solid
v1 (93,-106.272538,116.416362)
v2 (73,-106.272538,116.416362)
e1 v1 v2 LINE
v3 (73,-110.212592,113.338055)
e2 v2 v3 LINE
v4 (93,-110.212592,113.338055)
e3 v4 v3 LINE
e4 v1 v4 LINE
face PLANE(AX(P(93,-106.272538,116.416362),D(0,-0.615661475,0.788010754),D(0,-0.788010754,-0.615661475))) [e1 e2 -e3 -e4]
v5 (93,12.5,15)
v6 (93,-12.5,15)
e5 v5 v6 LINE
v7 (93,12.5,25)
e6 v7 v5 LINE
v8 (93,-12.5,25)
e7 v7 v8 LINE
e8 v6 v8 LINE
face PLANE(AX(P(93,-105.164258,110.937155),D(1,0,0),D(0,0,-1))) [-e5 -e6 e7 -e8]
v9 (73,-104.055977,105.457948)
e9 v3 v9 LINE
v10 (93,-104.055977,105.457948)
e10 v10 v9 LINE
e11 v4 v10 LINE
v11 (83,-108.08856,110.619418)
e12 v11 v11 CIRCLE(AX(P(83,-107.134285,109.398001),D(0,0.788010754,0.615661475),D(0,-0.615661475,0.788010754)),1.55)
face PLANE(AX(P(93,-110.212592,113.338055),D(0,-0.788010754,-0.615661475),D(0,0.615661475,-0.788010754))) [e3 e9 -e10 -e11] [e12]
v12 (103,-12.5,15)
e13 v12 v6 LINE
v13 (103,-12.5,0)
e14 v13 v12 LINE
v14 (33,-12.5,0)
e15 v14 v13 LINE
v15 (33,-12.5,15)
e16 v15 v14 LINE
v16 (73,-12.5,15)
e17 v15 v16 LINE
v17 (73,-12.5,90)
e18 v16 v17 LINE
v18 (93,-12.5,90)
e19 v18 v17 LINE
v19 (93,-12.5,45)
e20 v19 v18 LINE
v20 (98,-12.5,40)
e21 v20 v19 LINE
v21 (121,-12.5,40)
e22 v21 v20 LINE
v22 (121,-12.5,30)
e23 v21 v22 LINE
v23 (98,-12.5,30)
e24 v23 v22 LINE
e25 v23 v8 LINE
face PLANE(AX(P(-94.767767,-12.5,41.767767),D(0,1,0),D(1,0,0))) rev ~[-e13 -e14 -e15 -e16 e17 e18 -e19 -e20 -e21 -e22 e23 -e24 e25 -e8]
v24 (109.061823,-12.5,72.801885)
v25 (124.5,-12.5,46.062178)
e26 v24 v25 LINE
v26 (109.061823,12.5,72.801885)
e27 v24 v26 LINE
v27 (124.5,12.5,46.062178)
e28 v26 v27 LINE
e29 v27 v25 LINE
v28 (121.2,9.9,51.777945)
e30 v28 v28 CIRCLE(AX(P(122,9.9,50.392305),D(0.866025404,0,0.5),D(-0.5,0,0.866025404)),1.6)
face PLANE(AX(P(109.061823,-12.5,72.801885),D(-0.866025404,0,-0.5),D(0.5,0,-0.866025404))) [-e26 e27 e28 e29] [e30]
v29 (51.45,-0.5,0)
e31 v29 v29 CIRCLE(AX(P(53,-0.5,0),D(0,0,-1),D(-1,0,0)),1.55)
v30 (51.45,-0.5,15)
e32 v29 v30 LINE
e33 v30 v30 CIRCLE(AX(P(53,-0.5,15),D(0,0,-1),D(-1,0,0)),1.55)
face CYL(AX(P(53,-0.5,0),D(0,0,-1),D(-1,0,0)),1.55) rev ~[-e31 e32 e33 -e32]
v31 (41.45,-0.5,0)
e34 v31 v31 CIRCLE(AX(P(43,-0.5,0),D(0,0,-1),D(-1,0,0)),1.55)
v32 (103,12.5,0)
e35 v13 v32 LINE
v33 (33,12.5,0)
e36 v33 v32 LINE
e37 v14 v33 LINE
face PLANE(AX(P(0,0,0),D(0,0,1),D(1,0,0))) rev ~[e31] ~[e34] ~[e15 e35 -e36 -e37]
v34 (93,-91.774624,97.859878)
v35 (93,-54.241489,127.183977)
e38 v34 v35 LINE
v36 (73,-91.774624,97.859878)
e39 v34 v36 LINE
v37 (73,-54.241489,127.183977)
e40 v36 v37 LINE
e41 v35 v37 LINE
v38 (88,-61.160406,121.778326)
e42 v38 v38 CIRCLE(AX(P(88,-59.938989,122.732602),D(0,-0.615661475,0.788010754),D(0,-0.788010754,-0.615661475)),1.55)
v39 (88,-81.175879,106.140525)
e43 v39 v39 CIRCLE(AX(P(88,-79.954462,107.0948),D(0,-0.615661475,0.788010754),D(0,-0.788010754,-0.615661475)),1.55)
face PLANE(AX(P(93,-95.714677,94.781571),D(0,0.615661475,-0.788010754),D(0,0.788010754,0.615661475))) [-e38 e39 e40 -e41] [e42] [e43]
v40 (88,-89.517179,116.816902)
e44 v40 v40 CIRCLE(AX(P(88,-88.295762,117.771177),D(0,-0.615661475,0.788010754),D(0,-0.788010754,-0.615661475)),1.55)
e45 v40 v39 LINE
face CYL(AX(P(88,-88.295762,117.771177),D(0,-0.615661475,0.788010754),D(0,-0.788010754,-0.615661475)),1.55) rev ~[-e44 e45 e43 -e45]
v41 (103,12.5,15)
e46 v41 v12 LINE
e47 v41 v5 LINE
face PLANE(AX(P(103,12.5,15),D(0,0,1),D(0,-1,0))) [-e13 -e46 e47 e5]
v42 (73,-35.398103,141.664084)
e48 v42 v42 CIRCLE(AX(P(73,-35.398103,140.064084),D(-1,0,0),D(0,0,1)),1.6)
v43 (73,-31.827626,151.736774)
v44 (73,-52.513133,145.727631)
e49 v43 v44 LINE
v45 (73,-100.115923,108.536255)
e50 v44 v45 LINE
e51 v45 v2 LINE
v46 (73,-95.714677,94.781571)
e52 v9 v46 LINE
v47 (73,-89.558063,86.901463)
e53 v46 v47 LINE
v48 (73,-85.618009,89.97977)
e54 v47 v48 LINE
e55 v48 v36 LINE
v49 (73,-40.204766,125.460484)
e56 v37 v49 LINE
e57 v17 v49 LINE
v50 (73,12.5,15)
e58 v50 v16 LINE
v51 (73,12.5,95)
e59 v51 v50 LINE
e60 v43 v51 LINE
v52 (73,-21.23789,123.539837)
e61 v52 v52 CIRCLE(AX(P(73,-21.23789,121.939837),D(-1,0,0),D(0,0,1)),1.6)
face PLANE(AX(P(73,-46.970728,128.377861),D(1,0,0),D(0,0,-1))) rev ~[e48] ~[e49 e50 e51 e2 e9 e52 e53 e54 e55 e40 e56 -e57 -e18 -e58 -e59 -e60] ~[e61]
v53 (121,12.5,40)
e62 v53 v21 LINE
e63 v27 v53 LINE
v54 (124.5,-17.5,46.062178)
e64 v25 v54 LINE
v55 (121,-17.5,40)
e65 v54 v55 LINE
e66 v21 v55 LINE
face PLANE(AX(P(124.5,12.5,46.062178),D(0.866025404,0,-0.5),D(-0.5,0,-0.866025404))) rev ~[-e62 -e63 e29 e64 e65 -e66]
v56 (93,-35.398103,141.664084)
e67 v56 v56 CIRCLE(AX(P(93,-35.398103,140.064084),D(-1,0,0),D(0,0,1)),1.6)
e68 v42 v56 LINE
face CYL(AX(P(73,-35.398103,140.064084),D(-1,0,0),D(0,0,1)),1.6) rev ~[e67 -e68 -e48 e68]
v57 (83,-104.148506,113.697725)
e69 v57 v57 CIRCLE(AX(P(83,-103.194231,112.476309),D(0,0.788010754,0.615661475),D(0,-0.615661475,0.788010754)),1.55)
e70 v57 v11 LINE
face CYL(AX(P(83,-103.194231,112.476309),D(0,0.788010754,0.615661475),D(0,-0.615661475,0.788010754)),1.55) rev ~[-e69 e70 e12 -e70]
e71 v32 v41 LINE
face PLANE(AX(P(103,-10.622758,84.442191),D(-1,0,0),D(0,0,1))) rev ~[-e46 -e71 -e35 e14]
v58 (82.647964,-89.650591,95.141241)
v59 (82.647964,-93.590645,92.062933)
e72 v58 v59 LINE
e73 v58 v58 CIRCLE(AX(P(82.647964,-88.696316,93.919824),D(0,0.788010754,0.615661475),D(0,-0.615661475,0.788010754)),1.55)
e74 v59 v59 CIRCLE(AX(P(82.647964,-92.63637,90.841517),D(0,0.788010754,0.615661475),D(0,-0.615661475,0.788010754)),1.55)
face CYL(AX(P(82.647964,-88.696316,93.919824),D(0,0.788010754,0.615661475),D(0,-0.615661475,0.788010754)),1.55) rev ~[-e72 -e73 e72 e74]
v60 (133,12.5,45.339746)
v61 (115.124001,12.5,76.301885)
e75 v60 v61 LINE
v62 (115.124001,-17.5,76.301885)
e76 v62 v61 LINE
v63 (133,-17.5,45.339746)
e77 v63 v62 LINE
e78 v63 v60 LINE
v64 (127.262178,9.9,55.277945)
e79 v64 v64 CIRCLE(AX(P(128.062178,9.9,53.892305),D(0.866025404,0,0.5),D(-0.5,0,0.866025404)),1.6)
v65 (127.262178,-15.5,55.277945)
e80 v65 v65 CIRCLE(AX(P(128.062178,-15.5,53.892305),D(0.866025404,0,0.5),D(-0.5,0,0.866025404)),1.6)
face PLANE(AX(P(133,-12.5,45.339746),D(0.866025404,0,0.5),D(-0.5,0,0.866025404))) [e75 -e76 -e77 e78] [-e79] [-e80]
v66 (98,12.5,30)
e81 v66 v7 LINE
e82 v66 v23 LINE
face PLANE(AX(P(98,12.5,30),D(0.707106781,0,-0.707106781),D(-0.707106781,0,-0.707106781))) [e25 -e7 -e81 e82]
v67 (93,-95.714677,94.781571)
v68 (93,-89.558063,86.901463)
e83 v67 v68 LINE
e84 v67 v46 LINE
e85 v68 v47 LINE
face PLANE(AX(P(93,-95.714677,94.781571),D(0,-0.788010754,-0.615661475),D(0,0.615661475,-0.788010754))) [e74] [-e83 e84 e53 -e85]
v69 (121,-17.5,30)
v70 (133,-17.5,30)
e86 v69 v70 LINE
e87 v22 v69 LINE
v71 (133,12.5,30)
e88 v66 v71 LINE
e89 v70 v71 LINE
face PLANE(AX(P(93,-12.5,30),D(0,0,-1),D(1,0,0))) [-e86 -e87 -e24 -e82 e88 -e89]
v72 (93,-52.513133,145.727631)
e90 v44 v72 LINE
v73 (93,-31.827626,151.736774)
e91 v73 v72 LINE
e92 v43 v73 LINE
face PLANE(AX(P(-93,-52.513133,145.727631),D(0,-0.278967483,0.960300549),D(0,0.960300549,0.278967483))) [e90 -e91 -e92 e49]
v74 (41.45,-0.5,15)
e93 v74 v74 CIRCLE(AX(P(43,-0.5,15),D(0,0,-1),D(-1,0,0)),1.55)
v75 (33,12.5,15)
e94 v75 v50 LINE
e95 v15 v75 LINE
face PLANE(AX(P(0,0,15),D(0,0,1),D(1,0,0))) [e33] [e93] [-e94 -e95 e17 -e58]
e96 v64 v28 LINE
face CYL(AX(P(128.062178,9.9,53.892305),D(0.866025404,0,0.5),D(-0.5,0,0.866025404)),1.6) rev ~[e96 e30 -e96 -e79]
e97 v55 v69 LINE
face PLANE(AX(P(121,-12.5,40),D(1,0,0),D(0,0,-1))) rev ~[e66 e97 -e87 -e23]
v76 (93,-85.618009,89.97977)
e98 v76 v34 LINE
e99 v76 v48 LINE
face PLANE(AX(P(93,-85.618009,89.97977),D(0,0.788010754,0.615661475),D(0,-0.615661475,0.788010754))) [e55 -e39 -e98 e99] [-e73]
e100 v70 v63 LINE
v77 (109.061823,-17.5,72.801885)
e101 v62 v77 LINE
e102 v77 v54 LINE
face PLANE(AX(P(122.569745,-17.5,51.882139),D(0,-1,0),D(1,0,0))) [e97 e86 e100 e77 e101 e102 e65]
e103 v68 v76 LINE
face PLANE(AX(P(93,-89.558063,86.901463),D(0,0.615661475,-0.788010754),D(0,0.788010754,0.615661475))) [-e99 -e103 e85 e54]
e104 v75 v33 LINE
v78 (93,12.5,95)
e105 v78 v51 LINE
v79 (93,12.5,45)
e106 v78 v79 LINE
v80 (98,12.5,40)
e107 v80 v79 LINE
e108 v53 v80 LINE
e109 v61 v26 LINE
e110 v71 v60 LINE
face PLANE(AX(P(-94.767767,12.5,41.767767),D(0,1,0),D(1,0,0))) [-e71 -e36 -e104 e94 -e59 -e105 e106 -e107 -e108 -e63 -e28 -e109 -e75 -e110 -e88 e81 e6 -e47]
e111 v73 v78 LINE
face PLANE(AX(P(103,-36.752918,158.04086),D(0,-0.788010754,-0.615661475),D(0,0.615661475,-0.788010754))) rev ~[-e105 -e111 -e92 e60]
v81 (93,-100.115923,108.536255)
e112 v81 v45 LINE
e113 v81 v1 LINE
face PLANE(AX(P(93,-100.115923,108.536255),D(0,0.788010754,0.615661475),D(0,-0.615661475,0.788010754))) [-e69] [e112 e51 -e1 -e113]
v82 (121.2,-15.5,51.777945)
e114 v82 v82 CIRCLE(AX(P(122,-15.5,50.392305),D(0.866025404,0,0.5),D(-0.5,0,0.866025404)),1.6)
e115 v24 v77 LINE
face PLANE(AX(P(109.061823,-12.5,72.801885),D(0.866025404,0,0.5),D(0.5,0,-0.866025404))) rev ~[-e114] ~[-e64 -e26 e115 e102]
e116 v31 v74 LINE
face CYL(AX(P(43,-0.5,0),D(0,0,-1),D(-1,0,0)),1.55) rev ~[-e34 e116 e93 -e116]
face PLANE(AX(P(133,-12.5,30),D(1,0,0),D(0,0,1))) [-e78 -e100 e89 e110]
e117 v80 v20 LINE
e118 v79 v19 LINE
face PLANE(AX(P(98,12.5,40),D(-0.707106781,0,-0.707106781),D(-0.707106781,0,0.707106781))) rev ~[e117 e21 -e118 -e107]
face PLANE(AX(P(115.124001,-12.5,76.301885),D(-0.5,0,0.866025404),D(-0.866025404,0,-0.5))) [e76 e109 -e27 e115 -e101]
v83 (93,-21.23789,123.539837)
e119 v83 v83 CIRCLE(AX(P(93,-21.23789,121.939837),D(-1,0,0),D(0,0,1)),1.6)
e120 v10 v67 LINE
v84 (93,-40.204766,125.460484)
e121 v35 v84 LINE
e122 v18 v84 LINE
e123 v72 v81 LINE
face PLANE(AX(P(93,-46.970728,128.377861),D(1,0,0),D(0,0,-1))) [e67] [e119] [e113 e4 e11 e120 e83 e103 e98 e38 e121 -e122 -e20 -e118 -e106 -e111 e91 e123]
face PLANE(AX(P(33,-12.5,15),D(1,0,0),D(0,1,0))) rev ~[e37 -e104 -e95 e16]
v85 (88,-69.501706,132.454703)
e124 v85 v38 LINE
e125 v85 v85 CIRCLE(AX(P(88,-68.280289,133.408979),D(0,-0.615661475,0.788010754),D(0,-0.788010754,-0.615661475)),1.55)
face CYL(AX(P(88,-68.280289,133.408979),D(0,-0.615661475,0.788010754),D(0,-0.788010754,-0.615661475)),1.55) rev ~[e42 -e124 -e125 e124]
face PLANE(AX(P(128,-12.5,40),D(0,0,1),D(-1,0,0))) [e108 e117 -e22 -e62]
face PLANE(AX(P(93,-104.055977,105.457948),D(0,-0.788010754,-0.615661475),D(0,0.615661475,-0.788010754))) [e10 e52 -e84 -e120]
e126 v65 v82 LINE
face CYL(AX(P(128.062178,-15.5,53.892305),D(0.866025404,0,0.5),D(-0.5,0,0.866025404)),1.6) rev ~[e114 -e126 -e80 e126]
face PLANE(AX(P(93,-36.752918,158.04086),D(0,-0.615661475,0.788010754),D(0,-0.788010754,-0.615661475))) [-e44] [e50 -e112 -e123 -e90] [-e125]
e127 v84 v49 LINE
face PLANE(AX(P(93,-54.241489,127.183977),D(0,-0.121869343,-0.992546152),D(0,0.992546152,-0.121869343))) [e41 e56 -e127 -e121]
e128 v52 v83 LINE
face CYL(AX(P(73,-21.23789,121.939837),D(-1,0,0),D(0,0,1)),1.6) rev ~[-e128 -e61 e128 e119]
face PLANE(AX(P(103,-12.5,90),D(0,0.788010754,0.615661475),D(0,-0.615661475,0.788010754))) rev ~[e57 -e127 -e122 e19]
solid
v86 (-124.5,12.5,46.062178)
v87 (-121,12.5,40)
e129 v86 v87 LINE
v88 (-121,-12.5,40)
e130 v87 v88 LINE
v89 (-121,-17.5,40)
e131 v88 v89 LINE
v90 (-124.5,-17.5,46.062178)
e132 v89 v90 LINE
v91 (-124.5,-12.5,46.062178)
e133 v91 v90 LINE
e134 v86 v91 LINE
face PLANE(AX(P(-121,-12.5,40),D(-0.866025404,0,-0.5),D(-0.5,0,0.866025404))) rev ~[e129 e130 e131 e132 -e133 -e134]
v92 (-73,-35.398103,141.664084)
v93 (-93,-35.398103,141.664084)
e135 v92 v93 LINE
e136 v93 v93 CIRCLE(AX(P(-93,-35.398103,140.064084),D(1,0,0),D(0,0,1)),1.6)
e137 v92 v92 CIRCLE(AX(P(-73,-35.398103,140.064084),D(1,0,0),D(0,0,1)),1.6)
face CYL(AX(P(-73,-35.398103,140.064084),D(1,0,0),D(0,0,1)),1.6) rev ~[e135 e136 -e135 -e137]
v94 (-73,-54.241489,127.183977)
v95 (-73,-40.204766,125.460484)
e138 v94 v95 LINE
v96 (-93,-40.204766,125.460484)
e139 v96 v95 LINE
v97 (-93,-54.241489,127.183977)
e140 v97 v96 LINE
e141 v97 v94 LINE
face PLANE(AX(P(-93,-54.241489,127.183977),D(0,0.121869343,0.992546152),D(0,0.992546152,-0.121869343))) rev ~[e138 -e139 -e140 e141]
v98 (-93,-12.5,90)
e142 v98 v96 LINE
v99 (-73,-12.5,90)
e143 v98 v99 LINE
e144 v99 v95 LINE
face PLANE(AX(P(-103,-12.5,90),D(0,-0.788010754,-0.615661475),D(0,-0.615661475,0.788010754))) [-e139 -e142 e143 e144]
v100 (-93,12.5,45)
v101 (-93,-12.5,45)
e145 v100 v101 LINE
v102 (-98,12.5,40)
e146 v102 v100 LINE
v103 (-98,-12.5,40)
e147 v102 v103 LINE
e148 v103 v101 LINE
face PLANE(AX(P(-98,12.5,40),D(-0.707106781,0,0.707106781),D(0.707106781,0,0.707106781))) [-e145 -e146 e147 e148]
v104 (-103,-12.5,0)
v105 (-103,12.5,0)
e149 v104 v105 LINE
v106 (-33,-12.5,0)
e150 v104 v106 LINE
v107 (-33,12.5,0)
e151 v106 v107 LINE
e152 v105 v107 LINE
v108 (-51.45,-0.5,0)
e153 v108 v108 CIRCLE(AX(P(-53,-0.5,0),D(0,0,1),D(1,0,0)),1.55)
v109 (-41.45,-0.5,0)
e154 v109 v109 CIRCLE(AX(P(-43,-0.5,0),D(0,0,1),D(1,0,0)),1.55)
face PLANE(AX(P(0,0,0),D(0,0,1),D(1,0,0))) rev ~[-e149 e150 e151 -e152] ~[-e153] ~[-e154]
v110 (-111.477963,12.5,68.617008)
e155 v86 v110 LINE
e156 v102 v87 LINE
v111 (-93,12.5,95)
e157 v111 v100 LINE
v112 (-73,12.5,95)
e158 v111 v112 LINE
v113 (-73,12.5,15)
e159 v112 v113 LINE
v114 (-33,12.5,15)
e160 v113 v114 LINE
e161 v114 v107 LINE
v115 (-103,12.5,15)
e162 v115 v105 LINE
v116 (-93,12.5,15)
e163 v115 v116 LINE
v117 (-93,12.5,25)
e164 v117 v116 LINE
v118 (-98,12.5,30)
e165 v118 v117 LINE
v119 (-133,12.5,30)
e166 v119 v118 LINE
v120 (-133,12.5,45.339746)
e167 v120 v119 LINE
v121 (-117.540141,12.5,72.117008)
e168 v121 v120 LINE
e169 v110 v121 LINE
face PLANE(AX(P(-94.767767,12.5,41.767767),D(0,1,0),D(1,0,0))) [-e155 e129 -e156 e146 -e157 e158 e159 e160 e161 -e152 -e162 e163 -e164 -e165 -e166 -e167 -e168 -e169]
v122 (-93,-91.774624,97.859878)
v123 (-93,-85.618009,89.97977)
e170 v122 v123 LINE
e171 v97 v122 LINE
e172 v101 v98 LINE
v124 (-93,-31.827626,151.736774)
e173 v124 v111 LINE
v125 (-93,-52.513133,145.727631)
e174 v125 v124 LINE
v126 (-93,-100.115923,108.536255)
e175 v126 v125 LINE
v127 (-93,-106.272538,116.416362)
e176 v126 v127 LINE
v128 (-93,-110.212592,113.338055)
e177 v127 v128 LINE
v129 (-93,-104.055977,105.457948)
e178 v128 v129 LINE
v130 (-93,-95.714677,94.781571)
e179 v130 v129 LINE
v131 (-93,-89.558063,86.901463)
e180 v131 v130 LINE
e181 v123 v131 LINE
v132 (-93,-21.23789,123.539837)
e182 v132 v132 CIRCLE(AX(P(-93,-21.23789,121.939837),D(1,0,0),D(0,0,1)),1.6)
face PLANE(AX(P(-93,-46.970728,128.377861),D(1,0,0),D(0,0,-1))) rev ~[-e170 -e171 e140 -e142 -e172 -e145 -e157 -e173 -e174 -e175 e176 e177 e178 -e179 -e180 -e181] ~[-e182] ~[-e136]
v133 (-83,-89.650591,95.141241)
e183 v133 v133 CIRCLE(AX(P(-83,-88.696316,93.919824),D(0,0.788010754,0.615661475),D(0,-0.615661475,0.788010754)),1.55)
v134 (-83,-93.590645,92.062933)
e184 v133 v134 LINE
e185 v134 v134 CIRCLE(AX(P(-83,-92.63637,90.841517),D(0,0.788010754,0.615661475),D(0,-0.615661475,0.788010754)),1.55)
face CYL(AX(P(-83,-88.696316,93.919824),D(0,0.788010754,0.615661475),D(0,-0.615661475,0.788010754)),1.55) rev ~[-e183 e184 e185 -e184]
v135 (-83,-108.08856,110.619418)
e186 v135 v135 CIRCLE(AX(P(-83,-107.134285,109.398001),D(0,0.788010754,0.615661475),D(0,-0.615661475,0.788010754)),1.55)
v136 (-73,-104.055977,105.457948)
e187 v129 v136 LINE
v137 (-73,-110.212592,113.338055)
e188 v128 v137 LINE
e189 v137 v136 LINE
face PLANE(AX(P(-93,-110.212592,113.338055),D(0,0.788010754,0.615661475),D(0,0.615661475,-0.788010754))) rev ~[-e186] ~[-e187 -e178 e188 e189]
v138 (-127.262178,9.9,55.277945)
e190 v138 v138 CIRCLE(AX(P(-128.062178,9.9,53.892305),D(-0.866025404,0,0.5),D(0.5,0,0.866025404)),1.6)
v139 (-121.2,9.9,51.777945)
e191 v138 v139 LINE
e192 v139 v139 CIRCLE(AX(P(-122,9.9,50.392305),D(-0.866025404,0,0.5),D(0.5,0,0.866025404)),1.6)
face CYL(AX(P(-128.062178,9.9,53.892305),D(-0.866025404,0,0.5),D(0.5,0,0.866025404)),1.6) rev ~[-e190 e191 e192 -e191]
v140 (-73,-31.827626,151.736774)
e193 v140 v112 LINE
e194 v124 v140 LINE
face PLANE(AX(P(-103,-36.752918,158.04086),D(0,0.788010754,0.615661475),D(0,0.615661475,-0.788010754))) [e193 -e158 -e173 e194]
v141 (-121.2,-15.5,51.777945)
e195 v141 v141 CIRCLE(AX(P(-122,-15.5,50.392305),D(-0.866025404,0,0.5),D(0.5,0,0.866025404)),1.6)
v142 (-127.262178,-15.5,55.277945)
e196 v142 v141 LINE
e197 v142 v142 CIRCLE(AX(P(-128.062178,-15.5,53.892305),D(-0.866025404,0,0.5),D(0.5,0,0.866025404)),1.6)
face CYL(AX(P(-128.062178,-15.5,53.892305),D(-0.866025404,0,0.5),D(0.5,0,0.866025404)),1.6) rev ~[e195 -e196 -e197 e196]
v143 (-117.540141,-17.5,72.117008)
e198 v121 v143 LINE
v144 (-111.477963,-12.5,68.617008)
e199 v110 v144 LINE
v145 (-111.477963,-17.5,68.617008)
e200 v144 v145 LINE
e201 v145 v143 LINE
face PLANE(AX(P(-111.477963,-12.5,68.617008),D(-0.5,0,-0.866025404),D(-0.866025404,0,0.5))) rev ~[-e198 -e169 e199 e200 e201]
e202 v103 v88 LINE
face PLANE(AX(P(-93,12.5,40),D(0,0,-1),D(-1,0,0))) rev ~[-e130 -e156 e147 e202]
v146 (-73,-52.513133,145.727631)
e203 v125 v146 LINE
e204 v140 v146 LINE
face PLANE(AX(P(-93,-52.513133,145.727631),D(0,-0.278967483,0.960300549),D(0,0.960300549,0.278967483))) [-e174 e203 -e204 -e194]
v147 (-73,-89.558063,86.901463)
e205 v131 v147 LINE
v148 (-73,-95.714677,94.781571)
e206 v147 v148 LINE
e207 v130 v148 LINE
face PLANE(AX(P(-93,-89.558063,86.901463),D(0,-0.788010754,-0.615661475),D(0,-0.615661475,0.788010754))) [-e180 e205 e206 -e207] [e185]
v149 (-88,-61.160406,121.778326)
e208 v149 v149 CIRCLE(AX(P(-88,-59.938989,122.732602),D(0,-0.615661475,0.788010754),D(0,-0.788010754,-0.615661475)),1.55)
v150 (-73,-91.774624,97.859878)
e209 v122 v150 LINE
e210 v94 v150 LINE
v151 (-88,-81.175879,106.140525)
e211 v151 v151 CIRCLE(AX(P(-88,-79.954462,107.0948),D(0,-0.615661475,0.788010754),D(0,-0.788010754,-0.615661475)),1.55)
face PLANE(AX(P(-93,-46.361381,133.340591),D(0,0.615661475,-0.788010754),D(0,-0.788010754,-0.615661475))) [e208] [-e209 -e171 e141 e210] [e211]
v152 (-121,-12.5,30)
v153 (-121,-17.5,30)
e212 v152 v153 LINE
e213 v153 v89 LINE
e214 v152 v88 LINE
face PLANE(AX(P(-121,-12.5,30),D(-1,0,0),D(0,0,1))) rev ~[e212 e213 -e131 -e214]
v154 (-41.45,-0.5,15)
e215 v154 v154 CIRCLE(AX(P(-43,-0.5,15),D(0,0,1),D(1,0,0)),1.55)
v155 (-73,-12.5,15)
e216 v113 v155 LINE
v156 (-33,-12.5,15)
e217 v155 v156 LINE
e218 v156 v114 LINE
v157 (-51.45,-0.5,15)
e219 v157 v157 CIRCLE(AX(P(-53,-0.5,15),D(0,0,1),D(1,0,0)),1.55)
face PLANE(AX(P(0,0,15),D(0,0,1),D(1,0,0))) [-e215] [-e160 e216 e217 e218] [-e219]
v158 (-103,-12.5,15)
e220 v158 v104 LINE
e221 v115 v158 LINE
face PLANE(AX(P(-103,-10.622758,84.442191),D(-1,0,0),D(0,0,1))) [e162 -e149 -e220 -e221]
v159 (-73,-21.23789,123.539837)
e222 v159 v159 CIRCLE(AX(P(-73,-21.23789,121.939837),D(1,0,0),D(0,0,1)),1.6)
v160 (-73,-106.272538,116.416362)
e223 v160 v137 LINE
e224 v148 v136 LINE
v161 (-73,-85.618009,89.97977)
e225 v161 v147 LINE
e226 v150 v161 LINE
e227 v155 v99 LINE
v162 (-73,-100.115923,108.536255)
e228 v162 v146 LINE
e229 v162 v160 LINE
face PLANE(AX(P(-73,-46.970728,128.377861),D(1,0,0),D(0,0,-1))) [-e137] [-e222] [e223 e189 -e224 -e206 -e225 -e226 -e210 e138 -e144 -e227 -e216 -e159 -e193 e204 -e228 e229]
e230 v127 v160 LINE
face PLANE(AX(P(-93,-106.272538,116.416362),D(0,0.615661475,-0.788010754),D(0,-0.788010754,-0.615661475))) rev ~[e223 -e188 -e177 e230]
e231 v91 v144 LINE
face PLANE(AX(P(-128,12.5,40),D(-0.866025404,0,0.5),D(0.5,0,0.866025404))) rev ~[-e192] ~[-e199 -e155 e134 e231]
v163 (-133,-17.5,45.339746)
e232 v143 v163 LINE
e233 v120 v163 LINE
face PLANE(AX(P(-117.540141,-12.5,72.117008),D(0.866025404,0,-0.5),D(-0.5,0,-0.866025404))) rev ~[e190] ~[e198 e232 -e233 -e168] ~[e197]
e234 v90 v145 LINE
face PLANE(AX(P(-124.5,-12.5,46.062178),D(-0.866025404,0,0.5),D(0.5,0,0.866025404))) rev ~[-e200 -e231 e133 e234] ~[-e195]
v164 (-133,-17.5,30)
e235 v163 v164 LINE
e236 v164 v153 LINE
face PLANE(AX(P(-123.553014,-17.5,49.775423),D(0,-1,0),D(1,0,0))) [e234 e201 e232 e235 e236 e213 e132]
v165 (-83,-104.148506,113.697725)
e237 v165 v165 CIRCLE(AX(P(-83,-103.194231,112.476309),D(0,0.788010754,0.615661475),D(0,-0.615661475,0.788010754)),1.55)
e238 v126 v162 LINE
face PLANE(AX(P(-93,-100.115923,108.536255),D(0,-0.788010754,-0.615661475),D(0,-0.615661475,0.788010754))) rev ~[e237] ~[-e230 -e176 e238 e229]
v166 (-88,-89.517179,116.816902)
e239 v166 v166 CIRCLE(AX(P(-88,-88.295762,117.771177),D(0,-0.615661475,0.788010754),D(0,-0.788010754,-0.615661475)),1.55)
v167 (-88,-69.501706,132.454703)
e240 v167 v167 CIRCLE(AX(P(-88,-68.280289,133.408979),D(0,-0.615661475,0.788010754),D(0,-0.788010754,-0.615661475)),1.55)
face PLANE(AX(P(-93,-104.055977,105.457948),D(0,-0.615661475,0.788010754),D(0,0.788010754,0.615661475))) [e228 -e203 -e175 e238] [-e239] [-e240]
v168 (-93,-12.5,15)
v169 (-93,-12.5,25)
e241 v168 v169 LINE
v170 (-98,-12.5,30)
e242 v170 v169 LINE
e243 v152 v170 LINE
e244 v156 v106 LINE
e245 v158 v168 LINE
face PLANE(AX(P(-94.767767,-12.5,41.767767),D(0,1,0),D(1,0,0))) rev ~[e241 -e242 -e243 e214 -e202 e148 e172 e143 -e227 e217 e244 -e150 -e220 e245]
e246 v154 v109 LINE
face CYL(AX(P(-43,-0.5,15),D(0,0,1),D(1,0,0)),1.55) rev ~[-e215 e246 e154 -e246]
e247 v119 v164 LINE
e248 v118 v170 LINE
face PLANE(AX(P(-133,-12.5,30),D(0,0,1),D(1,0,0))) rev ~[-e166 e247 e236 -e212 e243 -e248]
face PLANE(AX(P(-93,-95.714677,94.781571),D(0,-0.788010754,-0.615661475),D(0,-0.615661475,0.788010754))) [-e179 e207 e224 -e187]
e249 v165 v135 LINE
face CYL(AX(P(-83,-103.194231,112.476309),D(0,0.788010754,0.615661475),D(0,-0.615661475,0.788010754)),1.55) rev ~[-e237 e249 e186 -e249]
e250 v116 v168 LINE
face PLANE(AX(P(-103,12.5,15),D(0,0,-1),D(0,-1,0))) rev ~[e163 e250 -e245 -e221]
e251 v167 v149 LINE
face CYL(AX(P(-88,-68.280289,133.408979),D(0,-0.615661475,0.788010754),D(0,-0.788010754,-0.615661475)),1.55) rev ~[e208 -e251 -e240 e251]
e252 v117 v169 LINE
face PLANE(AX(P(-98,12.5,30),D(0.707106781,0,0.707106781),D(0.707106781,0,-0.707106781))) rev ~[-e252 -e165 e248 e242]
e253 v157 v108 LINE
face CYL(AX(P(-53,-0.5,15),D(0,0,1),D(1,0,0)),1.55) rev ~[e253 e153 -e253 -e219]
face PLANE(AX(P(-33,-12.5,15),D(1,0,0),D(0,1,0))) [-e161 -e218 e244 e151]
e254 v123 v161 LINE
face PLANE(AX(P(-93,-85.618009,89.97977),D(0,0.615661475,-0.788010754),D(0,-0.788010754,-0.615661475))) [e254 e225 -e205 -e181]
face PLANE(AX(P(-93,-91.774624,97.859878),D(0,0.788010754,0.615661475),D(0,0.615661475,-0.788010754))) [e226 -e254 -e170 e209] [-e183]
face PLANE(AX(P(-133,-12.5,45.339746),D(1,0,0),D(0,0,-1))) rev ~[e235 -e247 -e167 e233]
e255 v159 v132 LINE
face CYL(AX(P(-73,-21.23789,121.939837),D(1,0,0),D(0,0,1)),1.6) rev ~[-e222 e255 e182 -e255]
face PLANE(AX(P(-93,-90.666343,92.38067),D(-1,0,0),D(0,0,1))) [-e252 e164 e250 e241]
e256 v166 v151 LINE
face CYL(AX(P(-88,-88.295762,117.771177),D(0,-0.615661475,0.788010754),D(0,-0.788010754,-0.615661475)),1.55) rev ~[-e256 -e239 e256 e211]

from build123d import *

# Parameters (mm, degrees)
SKETCH_1_W                       = 206
SKETCH_1_H                       = 25
EXTRUDE_1_DEPTH                  = 15
EXTRUDE_2_DEPTH                  = 30
EXTRUDE_3_DEPTH                  = 30
CUT_EXTRUDE_1_DEPTH              = 10
CUT_EXTRUDE_2_DEPTH              = 10
SKETCH_12_R                      = 1.55
CUT_EXTRUDE_6_DEPTH              = 183.26098149
EXTRUDE_5_DEPTH                  = 20
EXTRUDE_6_DEPTH                  = 20
EXTRUDE_7_DEPTH                  = 20
EXTRUDE_8_DEPTH                  = 20
SKETCH_17_R                      = 1.55
CUT_EXTRUDE_7_DEPTH              = 20
SKETCH_20_R                      = 1.55
CUT_EXTRUDE_8_DEPTH              = 20
SKETCH_21_R                      = 1.55
CUT_EXTRUDE_9_DEPTH              = 20
SKETCH_22_R                      = 1.6
CUT_EXTRUDE_10_DEPTH             = 261.959247659
SKETCH_23_R                      = 1.6
CUT_EXTRUDE_11_DEPTH             = 261.959247659
CUT_EXTRUDE_12_REACH             = 188.247
SKETCH_24_R                      = 1.55
CUT_EXTRUDE_13_REACH             = 188.247
SKETCH_25_R                      = 1.55
EXTRUDE_9_DEPTH                  = 25
EXTRUDE_10_DEPTH                 = 25
EXTRUDE_11_DEPTH                 = 25
EXTRUDE_13_DEPTH                 = 5
CUT_EXTRUDE_14_REACH             = 291.457
SKETCH_31_R                      = 1.6
CUT_EXTRUDE_14_DIRECTION_2_DEPTH = 290.457009885
CUT_EXTRUDE_15_REACH             = 291.457
SKETCH_33_R                      = 1.6
EXTRUDE_14_DEPTH                 = 25
EXTRUDE_15_DEPTH                 = 20
EXTRUDE_16_DEPTH                 = 20
CUT_EXTRUDE_16_DEPTH             = 297.984391742
SKETCH_38_W                      = 66
SKETCH_38_H                      = 25
CUT_EXTRUDE_17_DEPTH             = 221.301522584


with BuildPart() as part:
    # 草图1 → 凸台-拉伸1 (new body)
    with BuildSketch(Plane.XY):
        Rectangle(SKETCH_1_W, SKETCH_1_H)
    extrude(amount=EXTRUDE_1_DEPTH)

    # 草图3 → 凸台-拉伸2 (add)
    with BuildSketch(Plane(origin=(103, 0, 0), x_dir=(0, 0, -1), z_dir=(1, 0, 0))):
        Polygon((-90, -12.5), (-133.340591448, -46.361381143), (-158.040860289, -36.752918026), (-95, 12.5), (-15, 12.5), (-15, -12.5), align=None)
    extrude(amount=-EXTRUDE_2_DEPTH)

    # 草图4 → 凸台-拉伸3 (add)
    with BuildSketch(Plane.ZY.offset(103)):
        Polygon((90, -12.5), (133.340591448, -46.361381143), (158.040860289, -36.752918026), (95, 12.5), (15, 12.5), (15, -12.5), align=None)
    extrude(amount=-EXTRUDE_3_DEPTH)

    # 草图3<2> → 切除-拉伸1 (cut)
    with BuildSketch(Plane(origin=(103, 0, 0), x_dir=(0, 0, -1), z_dir=(1, 0, 0))):
        Polygon((-90, -12.5), (-133.340591448, -46.361381143), (-158.040860289, -36.752918026), (-95, 12.5), (-15, 12.5), (-15, -12.5), align=None)
    extrude(amount=-CUT_EXTRUDE_1_DEPTH, mode=Mode.SUBTRACT)

    # 草图4<2> → 切除-拉伸2 (cut)
    with BuildSketch(Plane.ZY.offset(103)):
        Polygon((15, 12.5), (15, -12.5), (90, -12.5), (133.340591448, -46.361381143), (158.040860289, -36.752918026), (95, 12.5), align=None)
    extrude(amount=-CUT_EXTRUDE_2_DEPTH, mode=Mode.SUBTRACT)

    # 草图12 → 切除-拉伸6 (cut, through all)
    with BuildSketch(Plane.XY.offset(15)):
        with Locations((-53, -0.5)):
            Circle(SKETCH_12_R)
        with Locations((-43, -0.5)):
            Circle(SKETCH_12_R)
    extrude(amount=-CUT_EXTRUDE_6_DEPTH, mode=Mode.SUBTRACT)

    # 草图13 → 凸台-拉伸5 (add)
    with BuildSketch(Plane.ZY.offset(93)):
        Polygon((133.340591448, -46.361381143), (94.781570561, -95.714677274), (105.457947561, -104.055977167), (158.040860289, -36.752918026), align=None)
    extrude(amount=-EXTRUDE_5_DEPTH)

    # 草图14 → 凸台-拉伸6 (add)
    with BuildSketch(Plane(origin=(93, 0, 0), x_dir=(0, 0, -1), z_dir=(1, 0, 0))):
        Polygon((-94.781570561, -95.714677274), (-133.340591448, -46.361381143), (-158.040860289, -36.752918026), (-105.457947561, -104.055977167), align=None)
    extrude(amount=-EXTRUDE_6_DEPTH)

    # 草图15 → 凸台-拉伸7 (add)
    with BuildSketch(Plane.ZY.offset(93)):
        Polygon((97.859877937, -91.774623506), (89.979770401, -85.618008752), (86.901463025, -89.55806252), (94.781570561, -95.714677274), align=None)
        Polygon((108.536254938, -100.115923399), (116.416362474, -106.272538153), (113.338055097, -110.212591921), (105.457947561, -104.055977167), align=None)
    extrude(amount=-EXTRUDE_7_DEPTH)

    # 草图16 → 凸台-拉伸8 (add)
    with BuildSketch(Plane(origin=(93, 0, 0), x_dir=(0, 0, -1), z_dir=(1, 0, 0))):
        Polygon((-108.536254938, -100.115923399), (-116.416362474, -106.272538153), (-113.338055097, -110.212591921), (-105.457947561, -104.055977167), align=None)
        Polygon((-89.979770401, -85.618008752), (-97.859877937, -91.774623506), (-94.781570561, -95.714677274), (-86.901463025, -89.55806252), align=None)
    extrude(amount=-EXTRUDE_8_DEPTH)

    # 草图17 → 切除-拉伸7 (cut)
    with BuildSketch(Plane(origin=(0, -9.511946528, -7.431547102), x_dir=(1, 0, 0), z_dir=(0, 0.7880107536067189, 0.6156614753256623))):
        with Locations(Location((-83, -152.165253151, 0), (0, 0, 270))):
            Circle(SKETCH_17_R)
        with Locations(Location((-83, -128.616736266, 0), (0, 0, 270))):
            Circle(SKETCH_17_R)
    extrude(amount=-CUT_EXTRUDE_7_DEPTH, mode=Mode.SUBTRACT)

    # 草图20 → 切除-拉伸8 (cut)
    with BuildSketch(Plane(origin=(0, -9.511946528, -7.431547102), x_dir=(1, 0, 0), z_dir=(0, 0.7880107536067189, 0.6156614753256623))):
        with Locations(Location((83, -152.165253151, 0), (0, 0, 270))):
            Circle(SKETCH_20_R)
        with Locations(Location((82.647963781, -128.616736266, 0), (0, 0, 270))):
            Circle(SKETCH_20_R)
    extrude(amount=-CUT_EXTRUDE_8_DEPTH, mode=Mode.SUBTRACT)

    # 草图21 → 切除-拉伸9 (cut)
    with BuildSketch(Plane(origin=(0, 0, 0), x_dir=(-1, 0, 0), z_dir=(0, 0, -1))):
        with Locations((-43, -0.5)):
            Circle(SKETCH_21_R)
        with Locations((-53, -0.5)):
            Circle(SKETCH_21_R)
    extrude(amount=-CUT_EXTRUDE_9_DEPTH, mode=Mode.SUBTRACT)

    # 草图22 → 切除-拉伸10 (cut, through all)
    with BuildSketch(Plane.ZY.offset(-73)):
        with Locations((140.064084231, -35.398103432)):
            Circle(SKETCH_22_R)
        with Locations((121.939836898, -21.2378895)):
            Circle(SKETCH_22_R)
    extrude(amount=-CUT_EXTRUDE_10_DEPTH, mode=Mode.SUBTRACT)

    # 草图23 → 切除-拉伸11 (cut, through all)
    with BuildSketch(Plane(origin=(-73, 0, 0), x_dir=(0, 0, -1), z_dir=(1, 0, 0))):
        with Locations(Location((-121.939836898, -21.2378895, 0), (0, 0, 180))):
            Circle(SKETCH_23_R)
        with Locations(Location((-140.064084231, -35.398103432, 0), (0, 0, 180))):
            Circle(SKETCH_23_R)
    extrude(amount=-CUT_EXTRUDE_11_DEPTH, mode=Mode.SUBTRACT)

    # 草图24 → 切除-拉伸12 (cut, up to next)
    with BuildSketch(Plane(origin=(0, -90.603976872, 115.96780204), x_dir=(1, 0, 0), z_dir=(0, -0.615661475325662, 0.7880107536067192)), mode=Mode.PRIVATE) as cut_extrude_12_sk1:
        with Locations(Location((88, 28.329166595, 0), (0, 0, 270))):
            Circle(SKETCH_24_R)
    cut_extrude_12_tool1 = extrude(cut_extrude_12_sk1.sketch, amount=-CUT_EXTRUDE_12_REACH, mode=Mode.PRIVATE) & part.part
    # 草图24 → 切除-拉伸12 (cut, up to next)
    with BuildSketch(Plane(origin=(0, -90.603976872, 115.96780204), x_dir=(1, 0, 0), z_dir=(0, -0.615661475325662, 0.7880107536067192)), mode=Mode.PRIVATE) as cut_extrude_12_sk2:
        with Locations(Location((88, 2.929166595, 0), (0, 0, 270))):
            Circle(SKETCH_24_R)
    cut_extrude_12_tool2 = extrude(cut_extrude_12_sk2.sketch, amount=-CUT_EXTRUDE_12_REACH, mode=Mode.PRIVATE) & part.part
    add(cut_extrude_12_tool1.solids().sort_by_distance((88, -68.280289, 133.408979))[0], mode=Mode.SUBTRACT)
    add(cut_extrude_12_tool2.solids().sort_by_distance((88, -88.295762, 117.771177))[0], mode=Mode.SUBTRACT)

    # 草图25 → 切除-拉伸13 (cut, up to next)
    with BuildSketch(Plane(origin=(0, -90.603976872, 115.96780204), x_dir=(1, 0, 0), z_dir=(0, -0.6156614753256618, 0.7880107536067191)), mode=Mode.PRIVATE) as cut_extrude_13_sk1:
        with Locations(Location((-88, 28.329166595, 0), (0, 0, 270))):
            Circle(SKETCH_25_R)
    cut_extrude_13_tool1 = extrude(cut_extrude_13_sk1.sketch, amount=-CUT_EXTRUDE_13_REACH, mode=Mode.PRIVATE) & part.part
    # 草图25 → 切除-拉伸13 (cut, up to next)
    with BuildSketch(Plane(origin=(0, -90.603976872, 115.96780204), x_dir=(1, 0, 0), z_dir=(0, -0.6156614753256618, 0.7880107536067191)), mode=Mode.PRIVATE) as cut_extrude_13_sk2:
        with Locations(Location((-88, 2.929166595, 0), (0, 0, 270))):
            Circle(SKETCH_25_R)
    cut_extrude_13_tool2 = extrude(cut_extrude_13_sk2.sketch, amount=-CUT_EXTRUDE_13_REACH, mode=Mode.PRIVATE) & part.part
    add(cut_extrude_13_tool1.solids().sort_by_distance((-88, -68.280289, 133.408979))[0], mode=Mode.SUBTRACT)
    add(cut_extrude_13_tool2.solids().sort_by_distance((-88, -88.295762, 117.771177))[0], mode=Mode.SUBTRACT)

    # 草图26 → 凸台-拉伸9 (add)
    with BuildSketch(Plane(origin=(0, 12.5, 0), x_dir=(1, 0, 0), z_dir=(0, 1, 0))):
        Polygon((-93, -30), (-93, -40), (-128, -40), (-111.47796301, -68.617007511), (-117.540140837, -72.117007511), (-133, -45.339745962), (-133, -30), align=None)
    extrude(amount=-EXTRUDE_9_DEPTH)

    # 草图27 → 凸台-拉伸10 (add)
    with BuildSketch(Plane.XZ.offset(12.5)):
        Polygon((93, 30), (133, 30), (133, 45.339745962), (115.124000593, 76.301885171), (109.061822767, 72.801885171), (128, 40), (93, 40), align=None)
    extrude(amount=-EXTRUDE_10_DEPTH)

    # 草图28 → 凸台-拉伸11 (add)
    with BuildSketch(Plane(origin=(0, 12.5, 0), x_dir=(1, 0, 0), z_dir=(0, 1, 0))):
        Polygon((-124.5, -46.062177826), (-121, -40), (-128, -40), align=None)
        Polygon((121, -40), (128, -40), (124.5, -46.062177826), align=None)
    extrude(amount=-EXTRUDE_11_DEPTH)

    # 草图30 → 凸台-拉伸13 (add)
    with BuildSketch(Plane.XZ.offset(12.5)):
        Polygon((-124.5, 46.062177826), (-111.47796301, 68.617007511), (-117.540140837, 72.117007511), (-133, 45.339745962), (-133, 30), (-121, 30), (-121, 40), align=None)
        Polygon((133, 45.339745962), (115.124000593, 76.301885171), (109.061822767, 72.801885171), (124.5, 46.062177826), (121, 40), (121, 30), (133, 30), align=None)
    extrude(amount=EXTRUDE_13_DEPTH)

    # 草图31 → 切除-拉伸14 (cut, up to next)
    with BuildSketch(Plane(origin=(119.382685902, 0, 68.925625842), x_dir=(0.5000000000000046, 0, -0.8660254037844359), z_dir=(0.866025403784436, 0, 0.5000000000000047)), mode=Mode.PRIVATE) as cut_extrude_14_sk1:
        with Locations(Location((17.358983849, 9.9, 0), (0, 0, 180))):
            Circle(SKETCH_31_R)
    cut_extrude_14_tool1 = extrude(cut_extrude_14_sk1.sketch, amount=-CUT_EXTRUDE_14_REACH, mode=Mode.PRIVATE) & part.part
    # 草图31 → 切除-拉伸14 (cut, up to next)
    with BuildSketch(Plane(origin=(119.382685902, 0, 68.925625842), x_dir=(0.5000000000000046, 0, -0.8660254037844359), z_dir=(0.866025403784436, 0, 0.5000000000000047)), mode=Mode.PRIVATE) as cut_extrude_14_sk2:
        with Locations(Location((17.358983849, -15.5, 0), (0, 0, 180))):
            Circle(SKETCH_31_R)
    cut_extrude_14_tool2 = extrude(cut_extrude_14_sk2.sketch, amount=-CUT_EXTRUDE_14_REACH, mode=Mode.PRIVATE) & part.part
    add(cut_extrude_14_tool1.solids().sort_by_distance((128.062178, 9.9, 53.892305))[0], mode=Mode.SUBTRACT)
    add(cut_extrude_14_tool2.solids().sort_by_distance((128.062178, -15.5, 53.892305))[0], mode=Mode.SUBTRACT)

    # 草图31 → 切除-拉伸14 direction 2 (cut)
    with BuildSketch(Plane(origin=(119.382685902, 0, 68.925625842), x_dir=(0.5000000000000046, 0, -0.8660254037844359), z_dir=(0.866025403784436, 0, 0.5000000000000047))):
        with Locations(Location((17.358983849, 9.9, 0), (0, 0, 180))):
            Circle(SKETCH_31_R)
        with Locations(Location((17.358983849, -15.5, 0), (0, 0, 180))):
            Circle(SKETCH_31_R)
    extrude(amount=CUT_EXTRUDE_14_DIRECTION_2_DEPTH, mode=Mode.SUBTRACT)

    # 草图33 → 切除-拉伸15 (cut, up to next)
    with BuildSketch(Plane(origin=(-119.382685902, 0, 68.925625842), x_dir=(0.5000000000000044, 0, 0.866025403784436), z_dir=(-0.8660254037844362, 0, 0.5000000000000046)), mode=Mode.PRIVATE) as cut_extrude_15_sk1:
        with Locations((-17.358983849, 9.9)):
            Circle(SKETCH_33_R)
    cut_extrude_15_tool1 = extrude(cut_extrude_15_sk1.sketch, amount=-CUT_EXTRUDE_15_REACH, mode=Mode.PRIVATE) & part.part
    # 草图33 → 切除-拉伸15 (cut, up to next)
    with BuildSketch(Plane(origin=(-119.382685902, 0, 68.925625842), x_dir=(0.5000000000000044, 0, 0.866025403784436), z_dir=(-0.8660254037844362, 0, 0.5000000000000046)), mode=Mode.PRIVATE) as cut_extrude_15_sk2:
        with Locations((-17.358983849, -15.5)):
            Circle(SKETCH_33_R)
    cut_extrude_15_tool2 = extrude(cut_extrude_15_sk2.sketch, amount=-CUT_EXTRUDE_15_REACH, mode=Mode.PRIVATE) & part.part
    add(cut_extrude_15_tool1.solids().sort_by_distance((-128.062178, 9.9, 53.892305))[0], mode=Mode.SUBTRACT)
    add(cut_extrude_15_tool2.solids().sort_by_distance((-128.062178, -15.5, 53.892305))[0], mode=Mode.SUBTRACT)

    # 草图34 → 凸台-拉伸14 (add)
    with BuildSketch(Plane(origin=(0, 12.5, 0), x_dir=(1, 0, 0), z_dir=(0, 1, 0))):
        Polygon((-98, -40), (-93, -45), (-93, -40), align=None)
        Polygon((-98, -30), (-93, -25), (-93, -30), align=None)
        Polygon((93, -25), (93, -30), (98, -30), align=None)
        Polygon((93, -45), (93, -40), (98, -40), align=None)
    extrude(amount=-EXTRUDE_14_DEPTH)

    # 草图35 → 凸台-拉伸15 (add)
    with BuildSketch(Plane.ZY.offset(93)):
        Polygon((125.460483912, -40.20476639), (133.340591448, -46.361381143), (127.183976695, -54.241488679), align=None)
    extrude(amount=-EXTRUDE_15_DEPTH)

    # 草图36 → 凸台-拉伸16 (add)
    with BuildSketch(Plane(origin=(93, 0, 0), x_dir=(0, 0, -1), z_dir=(1, 0, 0))):
        Polygon((-125.460483912, -40.20476639), (-133.340591448, -46.361381143), (-127.183976695, -54.241488679), align=None)
    extrude(amount=-EXTRUDE_16_DEPTH)

    # 草图37 → 切除-拉伸16 (cut, through all)
    with BuildSketch(Plane.ZY.offset(93)):
        Polygon((145.727630782, -52.513133098), (151.73677426, -31.827626223), (158.040860289, -36.752918026), align=None)
    extrude(amount=-CUT_EXTRUDE_16_DEPTH, mode=Mode.SUBTRACT)

    # 草图38 → 切除-拉伸17 (cut, through all)
    with BuildSketch(Plane.XY.offset(15)):
        Rectangle(SKETCH_38_W, SKETCH_38_H)
    extrude(amount=-CUT_EXTRUDE_17_DEPTH, mode=Mode.SUBTRACT)


with BuildPart() as cut_extrude_17_piece_1:
    # of the separate pieces the step leaves, piece 1, a body of its own (cut_extrude_17_pieces)
    add(part.part.solids().sort_by_distance((33, 12.5, 0))[0])


with BuildPart() as cut_extrude_17_piece_2:
    # of the separate pieces the step leaves, piece 2, a body of its own (cut_extrude_17_pieces)
    add(part.part.solids().sort_by_distance((-103, 12.5, 0))[0])


solid = Compound([cut_extrude_17_piece_1.part, cut_extrude_17_piece_2.part])
